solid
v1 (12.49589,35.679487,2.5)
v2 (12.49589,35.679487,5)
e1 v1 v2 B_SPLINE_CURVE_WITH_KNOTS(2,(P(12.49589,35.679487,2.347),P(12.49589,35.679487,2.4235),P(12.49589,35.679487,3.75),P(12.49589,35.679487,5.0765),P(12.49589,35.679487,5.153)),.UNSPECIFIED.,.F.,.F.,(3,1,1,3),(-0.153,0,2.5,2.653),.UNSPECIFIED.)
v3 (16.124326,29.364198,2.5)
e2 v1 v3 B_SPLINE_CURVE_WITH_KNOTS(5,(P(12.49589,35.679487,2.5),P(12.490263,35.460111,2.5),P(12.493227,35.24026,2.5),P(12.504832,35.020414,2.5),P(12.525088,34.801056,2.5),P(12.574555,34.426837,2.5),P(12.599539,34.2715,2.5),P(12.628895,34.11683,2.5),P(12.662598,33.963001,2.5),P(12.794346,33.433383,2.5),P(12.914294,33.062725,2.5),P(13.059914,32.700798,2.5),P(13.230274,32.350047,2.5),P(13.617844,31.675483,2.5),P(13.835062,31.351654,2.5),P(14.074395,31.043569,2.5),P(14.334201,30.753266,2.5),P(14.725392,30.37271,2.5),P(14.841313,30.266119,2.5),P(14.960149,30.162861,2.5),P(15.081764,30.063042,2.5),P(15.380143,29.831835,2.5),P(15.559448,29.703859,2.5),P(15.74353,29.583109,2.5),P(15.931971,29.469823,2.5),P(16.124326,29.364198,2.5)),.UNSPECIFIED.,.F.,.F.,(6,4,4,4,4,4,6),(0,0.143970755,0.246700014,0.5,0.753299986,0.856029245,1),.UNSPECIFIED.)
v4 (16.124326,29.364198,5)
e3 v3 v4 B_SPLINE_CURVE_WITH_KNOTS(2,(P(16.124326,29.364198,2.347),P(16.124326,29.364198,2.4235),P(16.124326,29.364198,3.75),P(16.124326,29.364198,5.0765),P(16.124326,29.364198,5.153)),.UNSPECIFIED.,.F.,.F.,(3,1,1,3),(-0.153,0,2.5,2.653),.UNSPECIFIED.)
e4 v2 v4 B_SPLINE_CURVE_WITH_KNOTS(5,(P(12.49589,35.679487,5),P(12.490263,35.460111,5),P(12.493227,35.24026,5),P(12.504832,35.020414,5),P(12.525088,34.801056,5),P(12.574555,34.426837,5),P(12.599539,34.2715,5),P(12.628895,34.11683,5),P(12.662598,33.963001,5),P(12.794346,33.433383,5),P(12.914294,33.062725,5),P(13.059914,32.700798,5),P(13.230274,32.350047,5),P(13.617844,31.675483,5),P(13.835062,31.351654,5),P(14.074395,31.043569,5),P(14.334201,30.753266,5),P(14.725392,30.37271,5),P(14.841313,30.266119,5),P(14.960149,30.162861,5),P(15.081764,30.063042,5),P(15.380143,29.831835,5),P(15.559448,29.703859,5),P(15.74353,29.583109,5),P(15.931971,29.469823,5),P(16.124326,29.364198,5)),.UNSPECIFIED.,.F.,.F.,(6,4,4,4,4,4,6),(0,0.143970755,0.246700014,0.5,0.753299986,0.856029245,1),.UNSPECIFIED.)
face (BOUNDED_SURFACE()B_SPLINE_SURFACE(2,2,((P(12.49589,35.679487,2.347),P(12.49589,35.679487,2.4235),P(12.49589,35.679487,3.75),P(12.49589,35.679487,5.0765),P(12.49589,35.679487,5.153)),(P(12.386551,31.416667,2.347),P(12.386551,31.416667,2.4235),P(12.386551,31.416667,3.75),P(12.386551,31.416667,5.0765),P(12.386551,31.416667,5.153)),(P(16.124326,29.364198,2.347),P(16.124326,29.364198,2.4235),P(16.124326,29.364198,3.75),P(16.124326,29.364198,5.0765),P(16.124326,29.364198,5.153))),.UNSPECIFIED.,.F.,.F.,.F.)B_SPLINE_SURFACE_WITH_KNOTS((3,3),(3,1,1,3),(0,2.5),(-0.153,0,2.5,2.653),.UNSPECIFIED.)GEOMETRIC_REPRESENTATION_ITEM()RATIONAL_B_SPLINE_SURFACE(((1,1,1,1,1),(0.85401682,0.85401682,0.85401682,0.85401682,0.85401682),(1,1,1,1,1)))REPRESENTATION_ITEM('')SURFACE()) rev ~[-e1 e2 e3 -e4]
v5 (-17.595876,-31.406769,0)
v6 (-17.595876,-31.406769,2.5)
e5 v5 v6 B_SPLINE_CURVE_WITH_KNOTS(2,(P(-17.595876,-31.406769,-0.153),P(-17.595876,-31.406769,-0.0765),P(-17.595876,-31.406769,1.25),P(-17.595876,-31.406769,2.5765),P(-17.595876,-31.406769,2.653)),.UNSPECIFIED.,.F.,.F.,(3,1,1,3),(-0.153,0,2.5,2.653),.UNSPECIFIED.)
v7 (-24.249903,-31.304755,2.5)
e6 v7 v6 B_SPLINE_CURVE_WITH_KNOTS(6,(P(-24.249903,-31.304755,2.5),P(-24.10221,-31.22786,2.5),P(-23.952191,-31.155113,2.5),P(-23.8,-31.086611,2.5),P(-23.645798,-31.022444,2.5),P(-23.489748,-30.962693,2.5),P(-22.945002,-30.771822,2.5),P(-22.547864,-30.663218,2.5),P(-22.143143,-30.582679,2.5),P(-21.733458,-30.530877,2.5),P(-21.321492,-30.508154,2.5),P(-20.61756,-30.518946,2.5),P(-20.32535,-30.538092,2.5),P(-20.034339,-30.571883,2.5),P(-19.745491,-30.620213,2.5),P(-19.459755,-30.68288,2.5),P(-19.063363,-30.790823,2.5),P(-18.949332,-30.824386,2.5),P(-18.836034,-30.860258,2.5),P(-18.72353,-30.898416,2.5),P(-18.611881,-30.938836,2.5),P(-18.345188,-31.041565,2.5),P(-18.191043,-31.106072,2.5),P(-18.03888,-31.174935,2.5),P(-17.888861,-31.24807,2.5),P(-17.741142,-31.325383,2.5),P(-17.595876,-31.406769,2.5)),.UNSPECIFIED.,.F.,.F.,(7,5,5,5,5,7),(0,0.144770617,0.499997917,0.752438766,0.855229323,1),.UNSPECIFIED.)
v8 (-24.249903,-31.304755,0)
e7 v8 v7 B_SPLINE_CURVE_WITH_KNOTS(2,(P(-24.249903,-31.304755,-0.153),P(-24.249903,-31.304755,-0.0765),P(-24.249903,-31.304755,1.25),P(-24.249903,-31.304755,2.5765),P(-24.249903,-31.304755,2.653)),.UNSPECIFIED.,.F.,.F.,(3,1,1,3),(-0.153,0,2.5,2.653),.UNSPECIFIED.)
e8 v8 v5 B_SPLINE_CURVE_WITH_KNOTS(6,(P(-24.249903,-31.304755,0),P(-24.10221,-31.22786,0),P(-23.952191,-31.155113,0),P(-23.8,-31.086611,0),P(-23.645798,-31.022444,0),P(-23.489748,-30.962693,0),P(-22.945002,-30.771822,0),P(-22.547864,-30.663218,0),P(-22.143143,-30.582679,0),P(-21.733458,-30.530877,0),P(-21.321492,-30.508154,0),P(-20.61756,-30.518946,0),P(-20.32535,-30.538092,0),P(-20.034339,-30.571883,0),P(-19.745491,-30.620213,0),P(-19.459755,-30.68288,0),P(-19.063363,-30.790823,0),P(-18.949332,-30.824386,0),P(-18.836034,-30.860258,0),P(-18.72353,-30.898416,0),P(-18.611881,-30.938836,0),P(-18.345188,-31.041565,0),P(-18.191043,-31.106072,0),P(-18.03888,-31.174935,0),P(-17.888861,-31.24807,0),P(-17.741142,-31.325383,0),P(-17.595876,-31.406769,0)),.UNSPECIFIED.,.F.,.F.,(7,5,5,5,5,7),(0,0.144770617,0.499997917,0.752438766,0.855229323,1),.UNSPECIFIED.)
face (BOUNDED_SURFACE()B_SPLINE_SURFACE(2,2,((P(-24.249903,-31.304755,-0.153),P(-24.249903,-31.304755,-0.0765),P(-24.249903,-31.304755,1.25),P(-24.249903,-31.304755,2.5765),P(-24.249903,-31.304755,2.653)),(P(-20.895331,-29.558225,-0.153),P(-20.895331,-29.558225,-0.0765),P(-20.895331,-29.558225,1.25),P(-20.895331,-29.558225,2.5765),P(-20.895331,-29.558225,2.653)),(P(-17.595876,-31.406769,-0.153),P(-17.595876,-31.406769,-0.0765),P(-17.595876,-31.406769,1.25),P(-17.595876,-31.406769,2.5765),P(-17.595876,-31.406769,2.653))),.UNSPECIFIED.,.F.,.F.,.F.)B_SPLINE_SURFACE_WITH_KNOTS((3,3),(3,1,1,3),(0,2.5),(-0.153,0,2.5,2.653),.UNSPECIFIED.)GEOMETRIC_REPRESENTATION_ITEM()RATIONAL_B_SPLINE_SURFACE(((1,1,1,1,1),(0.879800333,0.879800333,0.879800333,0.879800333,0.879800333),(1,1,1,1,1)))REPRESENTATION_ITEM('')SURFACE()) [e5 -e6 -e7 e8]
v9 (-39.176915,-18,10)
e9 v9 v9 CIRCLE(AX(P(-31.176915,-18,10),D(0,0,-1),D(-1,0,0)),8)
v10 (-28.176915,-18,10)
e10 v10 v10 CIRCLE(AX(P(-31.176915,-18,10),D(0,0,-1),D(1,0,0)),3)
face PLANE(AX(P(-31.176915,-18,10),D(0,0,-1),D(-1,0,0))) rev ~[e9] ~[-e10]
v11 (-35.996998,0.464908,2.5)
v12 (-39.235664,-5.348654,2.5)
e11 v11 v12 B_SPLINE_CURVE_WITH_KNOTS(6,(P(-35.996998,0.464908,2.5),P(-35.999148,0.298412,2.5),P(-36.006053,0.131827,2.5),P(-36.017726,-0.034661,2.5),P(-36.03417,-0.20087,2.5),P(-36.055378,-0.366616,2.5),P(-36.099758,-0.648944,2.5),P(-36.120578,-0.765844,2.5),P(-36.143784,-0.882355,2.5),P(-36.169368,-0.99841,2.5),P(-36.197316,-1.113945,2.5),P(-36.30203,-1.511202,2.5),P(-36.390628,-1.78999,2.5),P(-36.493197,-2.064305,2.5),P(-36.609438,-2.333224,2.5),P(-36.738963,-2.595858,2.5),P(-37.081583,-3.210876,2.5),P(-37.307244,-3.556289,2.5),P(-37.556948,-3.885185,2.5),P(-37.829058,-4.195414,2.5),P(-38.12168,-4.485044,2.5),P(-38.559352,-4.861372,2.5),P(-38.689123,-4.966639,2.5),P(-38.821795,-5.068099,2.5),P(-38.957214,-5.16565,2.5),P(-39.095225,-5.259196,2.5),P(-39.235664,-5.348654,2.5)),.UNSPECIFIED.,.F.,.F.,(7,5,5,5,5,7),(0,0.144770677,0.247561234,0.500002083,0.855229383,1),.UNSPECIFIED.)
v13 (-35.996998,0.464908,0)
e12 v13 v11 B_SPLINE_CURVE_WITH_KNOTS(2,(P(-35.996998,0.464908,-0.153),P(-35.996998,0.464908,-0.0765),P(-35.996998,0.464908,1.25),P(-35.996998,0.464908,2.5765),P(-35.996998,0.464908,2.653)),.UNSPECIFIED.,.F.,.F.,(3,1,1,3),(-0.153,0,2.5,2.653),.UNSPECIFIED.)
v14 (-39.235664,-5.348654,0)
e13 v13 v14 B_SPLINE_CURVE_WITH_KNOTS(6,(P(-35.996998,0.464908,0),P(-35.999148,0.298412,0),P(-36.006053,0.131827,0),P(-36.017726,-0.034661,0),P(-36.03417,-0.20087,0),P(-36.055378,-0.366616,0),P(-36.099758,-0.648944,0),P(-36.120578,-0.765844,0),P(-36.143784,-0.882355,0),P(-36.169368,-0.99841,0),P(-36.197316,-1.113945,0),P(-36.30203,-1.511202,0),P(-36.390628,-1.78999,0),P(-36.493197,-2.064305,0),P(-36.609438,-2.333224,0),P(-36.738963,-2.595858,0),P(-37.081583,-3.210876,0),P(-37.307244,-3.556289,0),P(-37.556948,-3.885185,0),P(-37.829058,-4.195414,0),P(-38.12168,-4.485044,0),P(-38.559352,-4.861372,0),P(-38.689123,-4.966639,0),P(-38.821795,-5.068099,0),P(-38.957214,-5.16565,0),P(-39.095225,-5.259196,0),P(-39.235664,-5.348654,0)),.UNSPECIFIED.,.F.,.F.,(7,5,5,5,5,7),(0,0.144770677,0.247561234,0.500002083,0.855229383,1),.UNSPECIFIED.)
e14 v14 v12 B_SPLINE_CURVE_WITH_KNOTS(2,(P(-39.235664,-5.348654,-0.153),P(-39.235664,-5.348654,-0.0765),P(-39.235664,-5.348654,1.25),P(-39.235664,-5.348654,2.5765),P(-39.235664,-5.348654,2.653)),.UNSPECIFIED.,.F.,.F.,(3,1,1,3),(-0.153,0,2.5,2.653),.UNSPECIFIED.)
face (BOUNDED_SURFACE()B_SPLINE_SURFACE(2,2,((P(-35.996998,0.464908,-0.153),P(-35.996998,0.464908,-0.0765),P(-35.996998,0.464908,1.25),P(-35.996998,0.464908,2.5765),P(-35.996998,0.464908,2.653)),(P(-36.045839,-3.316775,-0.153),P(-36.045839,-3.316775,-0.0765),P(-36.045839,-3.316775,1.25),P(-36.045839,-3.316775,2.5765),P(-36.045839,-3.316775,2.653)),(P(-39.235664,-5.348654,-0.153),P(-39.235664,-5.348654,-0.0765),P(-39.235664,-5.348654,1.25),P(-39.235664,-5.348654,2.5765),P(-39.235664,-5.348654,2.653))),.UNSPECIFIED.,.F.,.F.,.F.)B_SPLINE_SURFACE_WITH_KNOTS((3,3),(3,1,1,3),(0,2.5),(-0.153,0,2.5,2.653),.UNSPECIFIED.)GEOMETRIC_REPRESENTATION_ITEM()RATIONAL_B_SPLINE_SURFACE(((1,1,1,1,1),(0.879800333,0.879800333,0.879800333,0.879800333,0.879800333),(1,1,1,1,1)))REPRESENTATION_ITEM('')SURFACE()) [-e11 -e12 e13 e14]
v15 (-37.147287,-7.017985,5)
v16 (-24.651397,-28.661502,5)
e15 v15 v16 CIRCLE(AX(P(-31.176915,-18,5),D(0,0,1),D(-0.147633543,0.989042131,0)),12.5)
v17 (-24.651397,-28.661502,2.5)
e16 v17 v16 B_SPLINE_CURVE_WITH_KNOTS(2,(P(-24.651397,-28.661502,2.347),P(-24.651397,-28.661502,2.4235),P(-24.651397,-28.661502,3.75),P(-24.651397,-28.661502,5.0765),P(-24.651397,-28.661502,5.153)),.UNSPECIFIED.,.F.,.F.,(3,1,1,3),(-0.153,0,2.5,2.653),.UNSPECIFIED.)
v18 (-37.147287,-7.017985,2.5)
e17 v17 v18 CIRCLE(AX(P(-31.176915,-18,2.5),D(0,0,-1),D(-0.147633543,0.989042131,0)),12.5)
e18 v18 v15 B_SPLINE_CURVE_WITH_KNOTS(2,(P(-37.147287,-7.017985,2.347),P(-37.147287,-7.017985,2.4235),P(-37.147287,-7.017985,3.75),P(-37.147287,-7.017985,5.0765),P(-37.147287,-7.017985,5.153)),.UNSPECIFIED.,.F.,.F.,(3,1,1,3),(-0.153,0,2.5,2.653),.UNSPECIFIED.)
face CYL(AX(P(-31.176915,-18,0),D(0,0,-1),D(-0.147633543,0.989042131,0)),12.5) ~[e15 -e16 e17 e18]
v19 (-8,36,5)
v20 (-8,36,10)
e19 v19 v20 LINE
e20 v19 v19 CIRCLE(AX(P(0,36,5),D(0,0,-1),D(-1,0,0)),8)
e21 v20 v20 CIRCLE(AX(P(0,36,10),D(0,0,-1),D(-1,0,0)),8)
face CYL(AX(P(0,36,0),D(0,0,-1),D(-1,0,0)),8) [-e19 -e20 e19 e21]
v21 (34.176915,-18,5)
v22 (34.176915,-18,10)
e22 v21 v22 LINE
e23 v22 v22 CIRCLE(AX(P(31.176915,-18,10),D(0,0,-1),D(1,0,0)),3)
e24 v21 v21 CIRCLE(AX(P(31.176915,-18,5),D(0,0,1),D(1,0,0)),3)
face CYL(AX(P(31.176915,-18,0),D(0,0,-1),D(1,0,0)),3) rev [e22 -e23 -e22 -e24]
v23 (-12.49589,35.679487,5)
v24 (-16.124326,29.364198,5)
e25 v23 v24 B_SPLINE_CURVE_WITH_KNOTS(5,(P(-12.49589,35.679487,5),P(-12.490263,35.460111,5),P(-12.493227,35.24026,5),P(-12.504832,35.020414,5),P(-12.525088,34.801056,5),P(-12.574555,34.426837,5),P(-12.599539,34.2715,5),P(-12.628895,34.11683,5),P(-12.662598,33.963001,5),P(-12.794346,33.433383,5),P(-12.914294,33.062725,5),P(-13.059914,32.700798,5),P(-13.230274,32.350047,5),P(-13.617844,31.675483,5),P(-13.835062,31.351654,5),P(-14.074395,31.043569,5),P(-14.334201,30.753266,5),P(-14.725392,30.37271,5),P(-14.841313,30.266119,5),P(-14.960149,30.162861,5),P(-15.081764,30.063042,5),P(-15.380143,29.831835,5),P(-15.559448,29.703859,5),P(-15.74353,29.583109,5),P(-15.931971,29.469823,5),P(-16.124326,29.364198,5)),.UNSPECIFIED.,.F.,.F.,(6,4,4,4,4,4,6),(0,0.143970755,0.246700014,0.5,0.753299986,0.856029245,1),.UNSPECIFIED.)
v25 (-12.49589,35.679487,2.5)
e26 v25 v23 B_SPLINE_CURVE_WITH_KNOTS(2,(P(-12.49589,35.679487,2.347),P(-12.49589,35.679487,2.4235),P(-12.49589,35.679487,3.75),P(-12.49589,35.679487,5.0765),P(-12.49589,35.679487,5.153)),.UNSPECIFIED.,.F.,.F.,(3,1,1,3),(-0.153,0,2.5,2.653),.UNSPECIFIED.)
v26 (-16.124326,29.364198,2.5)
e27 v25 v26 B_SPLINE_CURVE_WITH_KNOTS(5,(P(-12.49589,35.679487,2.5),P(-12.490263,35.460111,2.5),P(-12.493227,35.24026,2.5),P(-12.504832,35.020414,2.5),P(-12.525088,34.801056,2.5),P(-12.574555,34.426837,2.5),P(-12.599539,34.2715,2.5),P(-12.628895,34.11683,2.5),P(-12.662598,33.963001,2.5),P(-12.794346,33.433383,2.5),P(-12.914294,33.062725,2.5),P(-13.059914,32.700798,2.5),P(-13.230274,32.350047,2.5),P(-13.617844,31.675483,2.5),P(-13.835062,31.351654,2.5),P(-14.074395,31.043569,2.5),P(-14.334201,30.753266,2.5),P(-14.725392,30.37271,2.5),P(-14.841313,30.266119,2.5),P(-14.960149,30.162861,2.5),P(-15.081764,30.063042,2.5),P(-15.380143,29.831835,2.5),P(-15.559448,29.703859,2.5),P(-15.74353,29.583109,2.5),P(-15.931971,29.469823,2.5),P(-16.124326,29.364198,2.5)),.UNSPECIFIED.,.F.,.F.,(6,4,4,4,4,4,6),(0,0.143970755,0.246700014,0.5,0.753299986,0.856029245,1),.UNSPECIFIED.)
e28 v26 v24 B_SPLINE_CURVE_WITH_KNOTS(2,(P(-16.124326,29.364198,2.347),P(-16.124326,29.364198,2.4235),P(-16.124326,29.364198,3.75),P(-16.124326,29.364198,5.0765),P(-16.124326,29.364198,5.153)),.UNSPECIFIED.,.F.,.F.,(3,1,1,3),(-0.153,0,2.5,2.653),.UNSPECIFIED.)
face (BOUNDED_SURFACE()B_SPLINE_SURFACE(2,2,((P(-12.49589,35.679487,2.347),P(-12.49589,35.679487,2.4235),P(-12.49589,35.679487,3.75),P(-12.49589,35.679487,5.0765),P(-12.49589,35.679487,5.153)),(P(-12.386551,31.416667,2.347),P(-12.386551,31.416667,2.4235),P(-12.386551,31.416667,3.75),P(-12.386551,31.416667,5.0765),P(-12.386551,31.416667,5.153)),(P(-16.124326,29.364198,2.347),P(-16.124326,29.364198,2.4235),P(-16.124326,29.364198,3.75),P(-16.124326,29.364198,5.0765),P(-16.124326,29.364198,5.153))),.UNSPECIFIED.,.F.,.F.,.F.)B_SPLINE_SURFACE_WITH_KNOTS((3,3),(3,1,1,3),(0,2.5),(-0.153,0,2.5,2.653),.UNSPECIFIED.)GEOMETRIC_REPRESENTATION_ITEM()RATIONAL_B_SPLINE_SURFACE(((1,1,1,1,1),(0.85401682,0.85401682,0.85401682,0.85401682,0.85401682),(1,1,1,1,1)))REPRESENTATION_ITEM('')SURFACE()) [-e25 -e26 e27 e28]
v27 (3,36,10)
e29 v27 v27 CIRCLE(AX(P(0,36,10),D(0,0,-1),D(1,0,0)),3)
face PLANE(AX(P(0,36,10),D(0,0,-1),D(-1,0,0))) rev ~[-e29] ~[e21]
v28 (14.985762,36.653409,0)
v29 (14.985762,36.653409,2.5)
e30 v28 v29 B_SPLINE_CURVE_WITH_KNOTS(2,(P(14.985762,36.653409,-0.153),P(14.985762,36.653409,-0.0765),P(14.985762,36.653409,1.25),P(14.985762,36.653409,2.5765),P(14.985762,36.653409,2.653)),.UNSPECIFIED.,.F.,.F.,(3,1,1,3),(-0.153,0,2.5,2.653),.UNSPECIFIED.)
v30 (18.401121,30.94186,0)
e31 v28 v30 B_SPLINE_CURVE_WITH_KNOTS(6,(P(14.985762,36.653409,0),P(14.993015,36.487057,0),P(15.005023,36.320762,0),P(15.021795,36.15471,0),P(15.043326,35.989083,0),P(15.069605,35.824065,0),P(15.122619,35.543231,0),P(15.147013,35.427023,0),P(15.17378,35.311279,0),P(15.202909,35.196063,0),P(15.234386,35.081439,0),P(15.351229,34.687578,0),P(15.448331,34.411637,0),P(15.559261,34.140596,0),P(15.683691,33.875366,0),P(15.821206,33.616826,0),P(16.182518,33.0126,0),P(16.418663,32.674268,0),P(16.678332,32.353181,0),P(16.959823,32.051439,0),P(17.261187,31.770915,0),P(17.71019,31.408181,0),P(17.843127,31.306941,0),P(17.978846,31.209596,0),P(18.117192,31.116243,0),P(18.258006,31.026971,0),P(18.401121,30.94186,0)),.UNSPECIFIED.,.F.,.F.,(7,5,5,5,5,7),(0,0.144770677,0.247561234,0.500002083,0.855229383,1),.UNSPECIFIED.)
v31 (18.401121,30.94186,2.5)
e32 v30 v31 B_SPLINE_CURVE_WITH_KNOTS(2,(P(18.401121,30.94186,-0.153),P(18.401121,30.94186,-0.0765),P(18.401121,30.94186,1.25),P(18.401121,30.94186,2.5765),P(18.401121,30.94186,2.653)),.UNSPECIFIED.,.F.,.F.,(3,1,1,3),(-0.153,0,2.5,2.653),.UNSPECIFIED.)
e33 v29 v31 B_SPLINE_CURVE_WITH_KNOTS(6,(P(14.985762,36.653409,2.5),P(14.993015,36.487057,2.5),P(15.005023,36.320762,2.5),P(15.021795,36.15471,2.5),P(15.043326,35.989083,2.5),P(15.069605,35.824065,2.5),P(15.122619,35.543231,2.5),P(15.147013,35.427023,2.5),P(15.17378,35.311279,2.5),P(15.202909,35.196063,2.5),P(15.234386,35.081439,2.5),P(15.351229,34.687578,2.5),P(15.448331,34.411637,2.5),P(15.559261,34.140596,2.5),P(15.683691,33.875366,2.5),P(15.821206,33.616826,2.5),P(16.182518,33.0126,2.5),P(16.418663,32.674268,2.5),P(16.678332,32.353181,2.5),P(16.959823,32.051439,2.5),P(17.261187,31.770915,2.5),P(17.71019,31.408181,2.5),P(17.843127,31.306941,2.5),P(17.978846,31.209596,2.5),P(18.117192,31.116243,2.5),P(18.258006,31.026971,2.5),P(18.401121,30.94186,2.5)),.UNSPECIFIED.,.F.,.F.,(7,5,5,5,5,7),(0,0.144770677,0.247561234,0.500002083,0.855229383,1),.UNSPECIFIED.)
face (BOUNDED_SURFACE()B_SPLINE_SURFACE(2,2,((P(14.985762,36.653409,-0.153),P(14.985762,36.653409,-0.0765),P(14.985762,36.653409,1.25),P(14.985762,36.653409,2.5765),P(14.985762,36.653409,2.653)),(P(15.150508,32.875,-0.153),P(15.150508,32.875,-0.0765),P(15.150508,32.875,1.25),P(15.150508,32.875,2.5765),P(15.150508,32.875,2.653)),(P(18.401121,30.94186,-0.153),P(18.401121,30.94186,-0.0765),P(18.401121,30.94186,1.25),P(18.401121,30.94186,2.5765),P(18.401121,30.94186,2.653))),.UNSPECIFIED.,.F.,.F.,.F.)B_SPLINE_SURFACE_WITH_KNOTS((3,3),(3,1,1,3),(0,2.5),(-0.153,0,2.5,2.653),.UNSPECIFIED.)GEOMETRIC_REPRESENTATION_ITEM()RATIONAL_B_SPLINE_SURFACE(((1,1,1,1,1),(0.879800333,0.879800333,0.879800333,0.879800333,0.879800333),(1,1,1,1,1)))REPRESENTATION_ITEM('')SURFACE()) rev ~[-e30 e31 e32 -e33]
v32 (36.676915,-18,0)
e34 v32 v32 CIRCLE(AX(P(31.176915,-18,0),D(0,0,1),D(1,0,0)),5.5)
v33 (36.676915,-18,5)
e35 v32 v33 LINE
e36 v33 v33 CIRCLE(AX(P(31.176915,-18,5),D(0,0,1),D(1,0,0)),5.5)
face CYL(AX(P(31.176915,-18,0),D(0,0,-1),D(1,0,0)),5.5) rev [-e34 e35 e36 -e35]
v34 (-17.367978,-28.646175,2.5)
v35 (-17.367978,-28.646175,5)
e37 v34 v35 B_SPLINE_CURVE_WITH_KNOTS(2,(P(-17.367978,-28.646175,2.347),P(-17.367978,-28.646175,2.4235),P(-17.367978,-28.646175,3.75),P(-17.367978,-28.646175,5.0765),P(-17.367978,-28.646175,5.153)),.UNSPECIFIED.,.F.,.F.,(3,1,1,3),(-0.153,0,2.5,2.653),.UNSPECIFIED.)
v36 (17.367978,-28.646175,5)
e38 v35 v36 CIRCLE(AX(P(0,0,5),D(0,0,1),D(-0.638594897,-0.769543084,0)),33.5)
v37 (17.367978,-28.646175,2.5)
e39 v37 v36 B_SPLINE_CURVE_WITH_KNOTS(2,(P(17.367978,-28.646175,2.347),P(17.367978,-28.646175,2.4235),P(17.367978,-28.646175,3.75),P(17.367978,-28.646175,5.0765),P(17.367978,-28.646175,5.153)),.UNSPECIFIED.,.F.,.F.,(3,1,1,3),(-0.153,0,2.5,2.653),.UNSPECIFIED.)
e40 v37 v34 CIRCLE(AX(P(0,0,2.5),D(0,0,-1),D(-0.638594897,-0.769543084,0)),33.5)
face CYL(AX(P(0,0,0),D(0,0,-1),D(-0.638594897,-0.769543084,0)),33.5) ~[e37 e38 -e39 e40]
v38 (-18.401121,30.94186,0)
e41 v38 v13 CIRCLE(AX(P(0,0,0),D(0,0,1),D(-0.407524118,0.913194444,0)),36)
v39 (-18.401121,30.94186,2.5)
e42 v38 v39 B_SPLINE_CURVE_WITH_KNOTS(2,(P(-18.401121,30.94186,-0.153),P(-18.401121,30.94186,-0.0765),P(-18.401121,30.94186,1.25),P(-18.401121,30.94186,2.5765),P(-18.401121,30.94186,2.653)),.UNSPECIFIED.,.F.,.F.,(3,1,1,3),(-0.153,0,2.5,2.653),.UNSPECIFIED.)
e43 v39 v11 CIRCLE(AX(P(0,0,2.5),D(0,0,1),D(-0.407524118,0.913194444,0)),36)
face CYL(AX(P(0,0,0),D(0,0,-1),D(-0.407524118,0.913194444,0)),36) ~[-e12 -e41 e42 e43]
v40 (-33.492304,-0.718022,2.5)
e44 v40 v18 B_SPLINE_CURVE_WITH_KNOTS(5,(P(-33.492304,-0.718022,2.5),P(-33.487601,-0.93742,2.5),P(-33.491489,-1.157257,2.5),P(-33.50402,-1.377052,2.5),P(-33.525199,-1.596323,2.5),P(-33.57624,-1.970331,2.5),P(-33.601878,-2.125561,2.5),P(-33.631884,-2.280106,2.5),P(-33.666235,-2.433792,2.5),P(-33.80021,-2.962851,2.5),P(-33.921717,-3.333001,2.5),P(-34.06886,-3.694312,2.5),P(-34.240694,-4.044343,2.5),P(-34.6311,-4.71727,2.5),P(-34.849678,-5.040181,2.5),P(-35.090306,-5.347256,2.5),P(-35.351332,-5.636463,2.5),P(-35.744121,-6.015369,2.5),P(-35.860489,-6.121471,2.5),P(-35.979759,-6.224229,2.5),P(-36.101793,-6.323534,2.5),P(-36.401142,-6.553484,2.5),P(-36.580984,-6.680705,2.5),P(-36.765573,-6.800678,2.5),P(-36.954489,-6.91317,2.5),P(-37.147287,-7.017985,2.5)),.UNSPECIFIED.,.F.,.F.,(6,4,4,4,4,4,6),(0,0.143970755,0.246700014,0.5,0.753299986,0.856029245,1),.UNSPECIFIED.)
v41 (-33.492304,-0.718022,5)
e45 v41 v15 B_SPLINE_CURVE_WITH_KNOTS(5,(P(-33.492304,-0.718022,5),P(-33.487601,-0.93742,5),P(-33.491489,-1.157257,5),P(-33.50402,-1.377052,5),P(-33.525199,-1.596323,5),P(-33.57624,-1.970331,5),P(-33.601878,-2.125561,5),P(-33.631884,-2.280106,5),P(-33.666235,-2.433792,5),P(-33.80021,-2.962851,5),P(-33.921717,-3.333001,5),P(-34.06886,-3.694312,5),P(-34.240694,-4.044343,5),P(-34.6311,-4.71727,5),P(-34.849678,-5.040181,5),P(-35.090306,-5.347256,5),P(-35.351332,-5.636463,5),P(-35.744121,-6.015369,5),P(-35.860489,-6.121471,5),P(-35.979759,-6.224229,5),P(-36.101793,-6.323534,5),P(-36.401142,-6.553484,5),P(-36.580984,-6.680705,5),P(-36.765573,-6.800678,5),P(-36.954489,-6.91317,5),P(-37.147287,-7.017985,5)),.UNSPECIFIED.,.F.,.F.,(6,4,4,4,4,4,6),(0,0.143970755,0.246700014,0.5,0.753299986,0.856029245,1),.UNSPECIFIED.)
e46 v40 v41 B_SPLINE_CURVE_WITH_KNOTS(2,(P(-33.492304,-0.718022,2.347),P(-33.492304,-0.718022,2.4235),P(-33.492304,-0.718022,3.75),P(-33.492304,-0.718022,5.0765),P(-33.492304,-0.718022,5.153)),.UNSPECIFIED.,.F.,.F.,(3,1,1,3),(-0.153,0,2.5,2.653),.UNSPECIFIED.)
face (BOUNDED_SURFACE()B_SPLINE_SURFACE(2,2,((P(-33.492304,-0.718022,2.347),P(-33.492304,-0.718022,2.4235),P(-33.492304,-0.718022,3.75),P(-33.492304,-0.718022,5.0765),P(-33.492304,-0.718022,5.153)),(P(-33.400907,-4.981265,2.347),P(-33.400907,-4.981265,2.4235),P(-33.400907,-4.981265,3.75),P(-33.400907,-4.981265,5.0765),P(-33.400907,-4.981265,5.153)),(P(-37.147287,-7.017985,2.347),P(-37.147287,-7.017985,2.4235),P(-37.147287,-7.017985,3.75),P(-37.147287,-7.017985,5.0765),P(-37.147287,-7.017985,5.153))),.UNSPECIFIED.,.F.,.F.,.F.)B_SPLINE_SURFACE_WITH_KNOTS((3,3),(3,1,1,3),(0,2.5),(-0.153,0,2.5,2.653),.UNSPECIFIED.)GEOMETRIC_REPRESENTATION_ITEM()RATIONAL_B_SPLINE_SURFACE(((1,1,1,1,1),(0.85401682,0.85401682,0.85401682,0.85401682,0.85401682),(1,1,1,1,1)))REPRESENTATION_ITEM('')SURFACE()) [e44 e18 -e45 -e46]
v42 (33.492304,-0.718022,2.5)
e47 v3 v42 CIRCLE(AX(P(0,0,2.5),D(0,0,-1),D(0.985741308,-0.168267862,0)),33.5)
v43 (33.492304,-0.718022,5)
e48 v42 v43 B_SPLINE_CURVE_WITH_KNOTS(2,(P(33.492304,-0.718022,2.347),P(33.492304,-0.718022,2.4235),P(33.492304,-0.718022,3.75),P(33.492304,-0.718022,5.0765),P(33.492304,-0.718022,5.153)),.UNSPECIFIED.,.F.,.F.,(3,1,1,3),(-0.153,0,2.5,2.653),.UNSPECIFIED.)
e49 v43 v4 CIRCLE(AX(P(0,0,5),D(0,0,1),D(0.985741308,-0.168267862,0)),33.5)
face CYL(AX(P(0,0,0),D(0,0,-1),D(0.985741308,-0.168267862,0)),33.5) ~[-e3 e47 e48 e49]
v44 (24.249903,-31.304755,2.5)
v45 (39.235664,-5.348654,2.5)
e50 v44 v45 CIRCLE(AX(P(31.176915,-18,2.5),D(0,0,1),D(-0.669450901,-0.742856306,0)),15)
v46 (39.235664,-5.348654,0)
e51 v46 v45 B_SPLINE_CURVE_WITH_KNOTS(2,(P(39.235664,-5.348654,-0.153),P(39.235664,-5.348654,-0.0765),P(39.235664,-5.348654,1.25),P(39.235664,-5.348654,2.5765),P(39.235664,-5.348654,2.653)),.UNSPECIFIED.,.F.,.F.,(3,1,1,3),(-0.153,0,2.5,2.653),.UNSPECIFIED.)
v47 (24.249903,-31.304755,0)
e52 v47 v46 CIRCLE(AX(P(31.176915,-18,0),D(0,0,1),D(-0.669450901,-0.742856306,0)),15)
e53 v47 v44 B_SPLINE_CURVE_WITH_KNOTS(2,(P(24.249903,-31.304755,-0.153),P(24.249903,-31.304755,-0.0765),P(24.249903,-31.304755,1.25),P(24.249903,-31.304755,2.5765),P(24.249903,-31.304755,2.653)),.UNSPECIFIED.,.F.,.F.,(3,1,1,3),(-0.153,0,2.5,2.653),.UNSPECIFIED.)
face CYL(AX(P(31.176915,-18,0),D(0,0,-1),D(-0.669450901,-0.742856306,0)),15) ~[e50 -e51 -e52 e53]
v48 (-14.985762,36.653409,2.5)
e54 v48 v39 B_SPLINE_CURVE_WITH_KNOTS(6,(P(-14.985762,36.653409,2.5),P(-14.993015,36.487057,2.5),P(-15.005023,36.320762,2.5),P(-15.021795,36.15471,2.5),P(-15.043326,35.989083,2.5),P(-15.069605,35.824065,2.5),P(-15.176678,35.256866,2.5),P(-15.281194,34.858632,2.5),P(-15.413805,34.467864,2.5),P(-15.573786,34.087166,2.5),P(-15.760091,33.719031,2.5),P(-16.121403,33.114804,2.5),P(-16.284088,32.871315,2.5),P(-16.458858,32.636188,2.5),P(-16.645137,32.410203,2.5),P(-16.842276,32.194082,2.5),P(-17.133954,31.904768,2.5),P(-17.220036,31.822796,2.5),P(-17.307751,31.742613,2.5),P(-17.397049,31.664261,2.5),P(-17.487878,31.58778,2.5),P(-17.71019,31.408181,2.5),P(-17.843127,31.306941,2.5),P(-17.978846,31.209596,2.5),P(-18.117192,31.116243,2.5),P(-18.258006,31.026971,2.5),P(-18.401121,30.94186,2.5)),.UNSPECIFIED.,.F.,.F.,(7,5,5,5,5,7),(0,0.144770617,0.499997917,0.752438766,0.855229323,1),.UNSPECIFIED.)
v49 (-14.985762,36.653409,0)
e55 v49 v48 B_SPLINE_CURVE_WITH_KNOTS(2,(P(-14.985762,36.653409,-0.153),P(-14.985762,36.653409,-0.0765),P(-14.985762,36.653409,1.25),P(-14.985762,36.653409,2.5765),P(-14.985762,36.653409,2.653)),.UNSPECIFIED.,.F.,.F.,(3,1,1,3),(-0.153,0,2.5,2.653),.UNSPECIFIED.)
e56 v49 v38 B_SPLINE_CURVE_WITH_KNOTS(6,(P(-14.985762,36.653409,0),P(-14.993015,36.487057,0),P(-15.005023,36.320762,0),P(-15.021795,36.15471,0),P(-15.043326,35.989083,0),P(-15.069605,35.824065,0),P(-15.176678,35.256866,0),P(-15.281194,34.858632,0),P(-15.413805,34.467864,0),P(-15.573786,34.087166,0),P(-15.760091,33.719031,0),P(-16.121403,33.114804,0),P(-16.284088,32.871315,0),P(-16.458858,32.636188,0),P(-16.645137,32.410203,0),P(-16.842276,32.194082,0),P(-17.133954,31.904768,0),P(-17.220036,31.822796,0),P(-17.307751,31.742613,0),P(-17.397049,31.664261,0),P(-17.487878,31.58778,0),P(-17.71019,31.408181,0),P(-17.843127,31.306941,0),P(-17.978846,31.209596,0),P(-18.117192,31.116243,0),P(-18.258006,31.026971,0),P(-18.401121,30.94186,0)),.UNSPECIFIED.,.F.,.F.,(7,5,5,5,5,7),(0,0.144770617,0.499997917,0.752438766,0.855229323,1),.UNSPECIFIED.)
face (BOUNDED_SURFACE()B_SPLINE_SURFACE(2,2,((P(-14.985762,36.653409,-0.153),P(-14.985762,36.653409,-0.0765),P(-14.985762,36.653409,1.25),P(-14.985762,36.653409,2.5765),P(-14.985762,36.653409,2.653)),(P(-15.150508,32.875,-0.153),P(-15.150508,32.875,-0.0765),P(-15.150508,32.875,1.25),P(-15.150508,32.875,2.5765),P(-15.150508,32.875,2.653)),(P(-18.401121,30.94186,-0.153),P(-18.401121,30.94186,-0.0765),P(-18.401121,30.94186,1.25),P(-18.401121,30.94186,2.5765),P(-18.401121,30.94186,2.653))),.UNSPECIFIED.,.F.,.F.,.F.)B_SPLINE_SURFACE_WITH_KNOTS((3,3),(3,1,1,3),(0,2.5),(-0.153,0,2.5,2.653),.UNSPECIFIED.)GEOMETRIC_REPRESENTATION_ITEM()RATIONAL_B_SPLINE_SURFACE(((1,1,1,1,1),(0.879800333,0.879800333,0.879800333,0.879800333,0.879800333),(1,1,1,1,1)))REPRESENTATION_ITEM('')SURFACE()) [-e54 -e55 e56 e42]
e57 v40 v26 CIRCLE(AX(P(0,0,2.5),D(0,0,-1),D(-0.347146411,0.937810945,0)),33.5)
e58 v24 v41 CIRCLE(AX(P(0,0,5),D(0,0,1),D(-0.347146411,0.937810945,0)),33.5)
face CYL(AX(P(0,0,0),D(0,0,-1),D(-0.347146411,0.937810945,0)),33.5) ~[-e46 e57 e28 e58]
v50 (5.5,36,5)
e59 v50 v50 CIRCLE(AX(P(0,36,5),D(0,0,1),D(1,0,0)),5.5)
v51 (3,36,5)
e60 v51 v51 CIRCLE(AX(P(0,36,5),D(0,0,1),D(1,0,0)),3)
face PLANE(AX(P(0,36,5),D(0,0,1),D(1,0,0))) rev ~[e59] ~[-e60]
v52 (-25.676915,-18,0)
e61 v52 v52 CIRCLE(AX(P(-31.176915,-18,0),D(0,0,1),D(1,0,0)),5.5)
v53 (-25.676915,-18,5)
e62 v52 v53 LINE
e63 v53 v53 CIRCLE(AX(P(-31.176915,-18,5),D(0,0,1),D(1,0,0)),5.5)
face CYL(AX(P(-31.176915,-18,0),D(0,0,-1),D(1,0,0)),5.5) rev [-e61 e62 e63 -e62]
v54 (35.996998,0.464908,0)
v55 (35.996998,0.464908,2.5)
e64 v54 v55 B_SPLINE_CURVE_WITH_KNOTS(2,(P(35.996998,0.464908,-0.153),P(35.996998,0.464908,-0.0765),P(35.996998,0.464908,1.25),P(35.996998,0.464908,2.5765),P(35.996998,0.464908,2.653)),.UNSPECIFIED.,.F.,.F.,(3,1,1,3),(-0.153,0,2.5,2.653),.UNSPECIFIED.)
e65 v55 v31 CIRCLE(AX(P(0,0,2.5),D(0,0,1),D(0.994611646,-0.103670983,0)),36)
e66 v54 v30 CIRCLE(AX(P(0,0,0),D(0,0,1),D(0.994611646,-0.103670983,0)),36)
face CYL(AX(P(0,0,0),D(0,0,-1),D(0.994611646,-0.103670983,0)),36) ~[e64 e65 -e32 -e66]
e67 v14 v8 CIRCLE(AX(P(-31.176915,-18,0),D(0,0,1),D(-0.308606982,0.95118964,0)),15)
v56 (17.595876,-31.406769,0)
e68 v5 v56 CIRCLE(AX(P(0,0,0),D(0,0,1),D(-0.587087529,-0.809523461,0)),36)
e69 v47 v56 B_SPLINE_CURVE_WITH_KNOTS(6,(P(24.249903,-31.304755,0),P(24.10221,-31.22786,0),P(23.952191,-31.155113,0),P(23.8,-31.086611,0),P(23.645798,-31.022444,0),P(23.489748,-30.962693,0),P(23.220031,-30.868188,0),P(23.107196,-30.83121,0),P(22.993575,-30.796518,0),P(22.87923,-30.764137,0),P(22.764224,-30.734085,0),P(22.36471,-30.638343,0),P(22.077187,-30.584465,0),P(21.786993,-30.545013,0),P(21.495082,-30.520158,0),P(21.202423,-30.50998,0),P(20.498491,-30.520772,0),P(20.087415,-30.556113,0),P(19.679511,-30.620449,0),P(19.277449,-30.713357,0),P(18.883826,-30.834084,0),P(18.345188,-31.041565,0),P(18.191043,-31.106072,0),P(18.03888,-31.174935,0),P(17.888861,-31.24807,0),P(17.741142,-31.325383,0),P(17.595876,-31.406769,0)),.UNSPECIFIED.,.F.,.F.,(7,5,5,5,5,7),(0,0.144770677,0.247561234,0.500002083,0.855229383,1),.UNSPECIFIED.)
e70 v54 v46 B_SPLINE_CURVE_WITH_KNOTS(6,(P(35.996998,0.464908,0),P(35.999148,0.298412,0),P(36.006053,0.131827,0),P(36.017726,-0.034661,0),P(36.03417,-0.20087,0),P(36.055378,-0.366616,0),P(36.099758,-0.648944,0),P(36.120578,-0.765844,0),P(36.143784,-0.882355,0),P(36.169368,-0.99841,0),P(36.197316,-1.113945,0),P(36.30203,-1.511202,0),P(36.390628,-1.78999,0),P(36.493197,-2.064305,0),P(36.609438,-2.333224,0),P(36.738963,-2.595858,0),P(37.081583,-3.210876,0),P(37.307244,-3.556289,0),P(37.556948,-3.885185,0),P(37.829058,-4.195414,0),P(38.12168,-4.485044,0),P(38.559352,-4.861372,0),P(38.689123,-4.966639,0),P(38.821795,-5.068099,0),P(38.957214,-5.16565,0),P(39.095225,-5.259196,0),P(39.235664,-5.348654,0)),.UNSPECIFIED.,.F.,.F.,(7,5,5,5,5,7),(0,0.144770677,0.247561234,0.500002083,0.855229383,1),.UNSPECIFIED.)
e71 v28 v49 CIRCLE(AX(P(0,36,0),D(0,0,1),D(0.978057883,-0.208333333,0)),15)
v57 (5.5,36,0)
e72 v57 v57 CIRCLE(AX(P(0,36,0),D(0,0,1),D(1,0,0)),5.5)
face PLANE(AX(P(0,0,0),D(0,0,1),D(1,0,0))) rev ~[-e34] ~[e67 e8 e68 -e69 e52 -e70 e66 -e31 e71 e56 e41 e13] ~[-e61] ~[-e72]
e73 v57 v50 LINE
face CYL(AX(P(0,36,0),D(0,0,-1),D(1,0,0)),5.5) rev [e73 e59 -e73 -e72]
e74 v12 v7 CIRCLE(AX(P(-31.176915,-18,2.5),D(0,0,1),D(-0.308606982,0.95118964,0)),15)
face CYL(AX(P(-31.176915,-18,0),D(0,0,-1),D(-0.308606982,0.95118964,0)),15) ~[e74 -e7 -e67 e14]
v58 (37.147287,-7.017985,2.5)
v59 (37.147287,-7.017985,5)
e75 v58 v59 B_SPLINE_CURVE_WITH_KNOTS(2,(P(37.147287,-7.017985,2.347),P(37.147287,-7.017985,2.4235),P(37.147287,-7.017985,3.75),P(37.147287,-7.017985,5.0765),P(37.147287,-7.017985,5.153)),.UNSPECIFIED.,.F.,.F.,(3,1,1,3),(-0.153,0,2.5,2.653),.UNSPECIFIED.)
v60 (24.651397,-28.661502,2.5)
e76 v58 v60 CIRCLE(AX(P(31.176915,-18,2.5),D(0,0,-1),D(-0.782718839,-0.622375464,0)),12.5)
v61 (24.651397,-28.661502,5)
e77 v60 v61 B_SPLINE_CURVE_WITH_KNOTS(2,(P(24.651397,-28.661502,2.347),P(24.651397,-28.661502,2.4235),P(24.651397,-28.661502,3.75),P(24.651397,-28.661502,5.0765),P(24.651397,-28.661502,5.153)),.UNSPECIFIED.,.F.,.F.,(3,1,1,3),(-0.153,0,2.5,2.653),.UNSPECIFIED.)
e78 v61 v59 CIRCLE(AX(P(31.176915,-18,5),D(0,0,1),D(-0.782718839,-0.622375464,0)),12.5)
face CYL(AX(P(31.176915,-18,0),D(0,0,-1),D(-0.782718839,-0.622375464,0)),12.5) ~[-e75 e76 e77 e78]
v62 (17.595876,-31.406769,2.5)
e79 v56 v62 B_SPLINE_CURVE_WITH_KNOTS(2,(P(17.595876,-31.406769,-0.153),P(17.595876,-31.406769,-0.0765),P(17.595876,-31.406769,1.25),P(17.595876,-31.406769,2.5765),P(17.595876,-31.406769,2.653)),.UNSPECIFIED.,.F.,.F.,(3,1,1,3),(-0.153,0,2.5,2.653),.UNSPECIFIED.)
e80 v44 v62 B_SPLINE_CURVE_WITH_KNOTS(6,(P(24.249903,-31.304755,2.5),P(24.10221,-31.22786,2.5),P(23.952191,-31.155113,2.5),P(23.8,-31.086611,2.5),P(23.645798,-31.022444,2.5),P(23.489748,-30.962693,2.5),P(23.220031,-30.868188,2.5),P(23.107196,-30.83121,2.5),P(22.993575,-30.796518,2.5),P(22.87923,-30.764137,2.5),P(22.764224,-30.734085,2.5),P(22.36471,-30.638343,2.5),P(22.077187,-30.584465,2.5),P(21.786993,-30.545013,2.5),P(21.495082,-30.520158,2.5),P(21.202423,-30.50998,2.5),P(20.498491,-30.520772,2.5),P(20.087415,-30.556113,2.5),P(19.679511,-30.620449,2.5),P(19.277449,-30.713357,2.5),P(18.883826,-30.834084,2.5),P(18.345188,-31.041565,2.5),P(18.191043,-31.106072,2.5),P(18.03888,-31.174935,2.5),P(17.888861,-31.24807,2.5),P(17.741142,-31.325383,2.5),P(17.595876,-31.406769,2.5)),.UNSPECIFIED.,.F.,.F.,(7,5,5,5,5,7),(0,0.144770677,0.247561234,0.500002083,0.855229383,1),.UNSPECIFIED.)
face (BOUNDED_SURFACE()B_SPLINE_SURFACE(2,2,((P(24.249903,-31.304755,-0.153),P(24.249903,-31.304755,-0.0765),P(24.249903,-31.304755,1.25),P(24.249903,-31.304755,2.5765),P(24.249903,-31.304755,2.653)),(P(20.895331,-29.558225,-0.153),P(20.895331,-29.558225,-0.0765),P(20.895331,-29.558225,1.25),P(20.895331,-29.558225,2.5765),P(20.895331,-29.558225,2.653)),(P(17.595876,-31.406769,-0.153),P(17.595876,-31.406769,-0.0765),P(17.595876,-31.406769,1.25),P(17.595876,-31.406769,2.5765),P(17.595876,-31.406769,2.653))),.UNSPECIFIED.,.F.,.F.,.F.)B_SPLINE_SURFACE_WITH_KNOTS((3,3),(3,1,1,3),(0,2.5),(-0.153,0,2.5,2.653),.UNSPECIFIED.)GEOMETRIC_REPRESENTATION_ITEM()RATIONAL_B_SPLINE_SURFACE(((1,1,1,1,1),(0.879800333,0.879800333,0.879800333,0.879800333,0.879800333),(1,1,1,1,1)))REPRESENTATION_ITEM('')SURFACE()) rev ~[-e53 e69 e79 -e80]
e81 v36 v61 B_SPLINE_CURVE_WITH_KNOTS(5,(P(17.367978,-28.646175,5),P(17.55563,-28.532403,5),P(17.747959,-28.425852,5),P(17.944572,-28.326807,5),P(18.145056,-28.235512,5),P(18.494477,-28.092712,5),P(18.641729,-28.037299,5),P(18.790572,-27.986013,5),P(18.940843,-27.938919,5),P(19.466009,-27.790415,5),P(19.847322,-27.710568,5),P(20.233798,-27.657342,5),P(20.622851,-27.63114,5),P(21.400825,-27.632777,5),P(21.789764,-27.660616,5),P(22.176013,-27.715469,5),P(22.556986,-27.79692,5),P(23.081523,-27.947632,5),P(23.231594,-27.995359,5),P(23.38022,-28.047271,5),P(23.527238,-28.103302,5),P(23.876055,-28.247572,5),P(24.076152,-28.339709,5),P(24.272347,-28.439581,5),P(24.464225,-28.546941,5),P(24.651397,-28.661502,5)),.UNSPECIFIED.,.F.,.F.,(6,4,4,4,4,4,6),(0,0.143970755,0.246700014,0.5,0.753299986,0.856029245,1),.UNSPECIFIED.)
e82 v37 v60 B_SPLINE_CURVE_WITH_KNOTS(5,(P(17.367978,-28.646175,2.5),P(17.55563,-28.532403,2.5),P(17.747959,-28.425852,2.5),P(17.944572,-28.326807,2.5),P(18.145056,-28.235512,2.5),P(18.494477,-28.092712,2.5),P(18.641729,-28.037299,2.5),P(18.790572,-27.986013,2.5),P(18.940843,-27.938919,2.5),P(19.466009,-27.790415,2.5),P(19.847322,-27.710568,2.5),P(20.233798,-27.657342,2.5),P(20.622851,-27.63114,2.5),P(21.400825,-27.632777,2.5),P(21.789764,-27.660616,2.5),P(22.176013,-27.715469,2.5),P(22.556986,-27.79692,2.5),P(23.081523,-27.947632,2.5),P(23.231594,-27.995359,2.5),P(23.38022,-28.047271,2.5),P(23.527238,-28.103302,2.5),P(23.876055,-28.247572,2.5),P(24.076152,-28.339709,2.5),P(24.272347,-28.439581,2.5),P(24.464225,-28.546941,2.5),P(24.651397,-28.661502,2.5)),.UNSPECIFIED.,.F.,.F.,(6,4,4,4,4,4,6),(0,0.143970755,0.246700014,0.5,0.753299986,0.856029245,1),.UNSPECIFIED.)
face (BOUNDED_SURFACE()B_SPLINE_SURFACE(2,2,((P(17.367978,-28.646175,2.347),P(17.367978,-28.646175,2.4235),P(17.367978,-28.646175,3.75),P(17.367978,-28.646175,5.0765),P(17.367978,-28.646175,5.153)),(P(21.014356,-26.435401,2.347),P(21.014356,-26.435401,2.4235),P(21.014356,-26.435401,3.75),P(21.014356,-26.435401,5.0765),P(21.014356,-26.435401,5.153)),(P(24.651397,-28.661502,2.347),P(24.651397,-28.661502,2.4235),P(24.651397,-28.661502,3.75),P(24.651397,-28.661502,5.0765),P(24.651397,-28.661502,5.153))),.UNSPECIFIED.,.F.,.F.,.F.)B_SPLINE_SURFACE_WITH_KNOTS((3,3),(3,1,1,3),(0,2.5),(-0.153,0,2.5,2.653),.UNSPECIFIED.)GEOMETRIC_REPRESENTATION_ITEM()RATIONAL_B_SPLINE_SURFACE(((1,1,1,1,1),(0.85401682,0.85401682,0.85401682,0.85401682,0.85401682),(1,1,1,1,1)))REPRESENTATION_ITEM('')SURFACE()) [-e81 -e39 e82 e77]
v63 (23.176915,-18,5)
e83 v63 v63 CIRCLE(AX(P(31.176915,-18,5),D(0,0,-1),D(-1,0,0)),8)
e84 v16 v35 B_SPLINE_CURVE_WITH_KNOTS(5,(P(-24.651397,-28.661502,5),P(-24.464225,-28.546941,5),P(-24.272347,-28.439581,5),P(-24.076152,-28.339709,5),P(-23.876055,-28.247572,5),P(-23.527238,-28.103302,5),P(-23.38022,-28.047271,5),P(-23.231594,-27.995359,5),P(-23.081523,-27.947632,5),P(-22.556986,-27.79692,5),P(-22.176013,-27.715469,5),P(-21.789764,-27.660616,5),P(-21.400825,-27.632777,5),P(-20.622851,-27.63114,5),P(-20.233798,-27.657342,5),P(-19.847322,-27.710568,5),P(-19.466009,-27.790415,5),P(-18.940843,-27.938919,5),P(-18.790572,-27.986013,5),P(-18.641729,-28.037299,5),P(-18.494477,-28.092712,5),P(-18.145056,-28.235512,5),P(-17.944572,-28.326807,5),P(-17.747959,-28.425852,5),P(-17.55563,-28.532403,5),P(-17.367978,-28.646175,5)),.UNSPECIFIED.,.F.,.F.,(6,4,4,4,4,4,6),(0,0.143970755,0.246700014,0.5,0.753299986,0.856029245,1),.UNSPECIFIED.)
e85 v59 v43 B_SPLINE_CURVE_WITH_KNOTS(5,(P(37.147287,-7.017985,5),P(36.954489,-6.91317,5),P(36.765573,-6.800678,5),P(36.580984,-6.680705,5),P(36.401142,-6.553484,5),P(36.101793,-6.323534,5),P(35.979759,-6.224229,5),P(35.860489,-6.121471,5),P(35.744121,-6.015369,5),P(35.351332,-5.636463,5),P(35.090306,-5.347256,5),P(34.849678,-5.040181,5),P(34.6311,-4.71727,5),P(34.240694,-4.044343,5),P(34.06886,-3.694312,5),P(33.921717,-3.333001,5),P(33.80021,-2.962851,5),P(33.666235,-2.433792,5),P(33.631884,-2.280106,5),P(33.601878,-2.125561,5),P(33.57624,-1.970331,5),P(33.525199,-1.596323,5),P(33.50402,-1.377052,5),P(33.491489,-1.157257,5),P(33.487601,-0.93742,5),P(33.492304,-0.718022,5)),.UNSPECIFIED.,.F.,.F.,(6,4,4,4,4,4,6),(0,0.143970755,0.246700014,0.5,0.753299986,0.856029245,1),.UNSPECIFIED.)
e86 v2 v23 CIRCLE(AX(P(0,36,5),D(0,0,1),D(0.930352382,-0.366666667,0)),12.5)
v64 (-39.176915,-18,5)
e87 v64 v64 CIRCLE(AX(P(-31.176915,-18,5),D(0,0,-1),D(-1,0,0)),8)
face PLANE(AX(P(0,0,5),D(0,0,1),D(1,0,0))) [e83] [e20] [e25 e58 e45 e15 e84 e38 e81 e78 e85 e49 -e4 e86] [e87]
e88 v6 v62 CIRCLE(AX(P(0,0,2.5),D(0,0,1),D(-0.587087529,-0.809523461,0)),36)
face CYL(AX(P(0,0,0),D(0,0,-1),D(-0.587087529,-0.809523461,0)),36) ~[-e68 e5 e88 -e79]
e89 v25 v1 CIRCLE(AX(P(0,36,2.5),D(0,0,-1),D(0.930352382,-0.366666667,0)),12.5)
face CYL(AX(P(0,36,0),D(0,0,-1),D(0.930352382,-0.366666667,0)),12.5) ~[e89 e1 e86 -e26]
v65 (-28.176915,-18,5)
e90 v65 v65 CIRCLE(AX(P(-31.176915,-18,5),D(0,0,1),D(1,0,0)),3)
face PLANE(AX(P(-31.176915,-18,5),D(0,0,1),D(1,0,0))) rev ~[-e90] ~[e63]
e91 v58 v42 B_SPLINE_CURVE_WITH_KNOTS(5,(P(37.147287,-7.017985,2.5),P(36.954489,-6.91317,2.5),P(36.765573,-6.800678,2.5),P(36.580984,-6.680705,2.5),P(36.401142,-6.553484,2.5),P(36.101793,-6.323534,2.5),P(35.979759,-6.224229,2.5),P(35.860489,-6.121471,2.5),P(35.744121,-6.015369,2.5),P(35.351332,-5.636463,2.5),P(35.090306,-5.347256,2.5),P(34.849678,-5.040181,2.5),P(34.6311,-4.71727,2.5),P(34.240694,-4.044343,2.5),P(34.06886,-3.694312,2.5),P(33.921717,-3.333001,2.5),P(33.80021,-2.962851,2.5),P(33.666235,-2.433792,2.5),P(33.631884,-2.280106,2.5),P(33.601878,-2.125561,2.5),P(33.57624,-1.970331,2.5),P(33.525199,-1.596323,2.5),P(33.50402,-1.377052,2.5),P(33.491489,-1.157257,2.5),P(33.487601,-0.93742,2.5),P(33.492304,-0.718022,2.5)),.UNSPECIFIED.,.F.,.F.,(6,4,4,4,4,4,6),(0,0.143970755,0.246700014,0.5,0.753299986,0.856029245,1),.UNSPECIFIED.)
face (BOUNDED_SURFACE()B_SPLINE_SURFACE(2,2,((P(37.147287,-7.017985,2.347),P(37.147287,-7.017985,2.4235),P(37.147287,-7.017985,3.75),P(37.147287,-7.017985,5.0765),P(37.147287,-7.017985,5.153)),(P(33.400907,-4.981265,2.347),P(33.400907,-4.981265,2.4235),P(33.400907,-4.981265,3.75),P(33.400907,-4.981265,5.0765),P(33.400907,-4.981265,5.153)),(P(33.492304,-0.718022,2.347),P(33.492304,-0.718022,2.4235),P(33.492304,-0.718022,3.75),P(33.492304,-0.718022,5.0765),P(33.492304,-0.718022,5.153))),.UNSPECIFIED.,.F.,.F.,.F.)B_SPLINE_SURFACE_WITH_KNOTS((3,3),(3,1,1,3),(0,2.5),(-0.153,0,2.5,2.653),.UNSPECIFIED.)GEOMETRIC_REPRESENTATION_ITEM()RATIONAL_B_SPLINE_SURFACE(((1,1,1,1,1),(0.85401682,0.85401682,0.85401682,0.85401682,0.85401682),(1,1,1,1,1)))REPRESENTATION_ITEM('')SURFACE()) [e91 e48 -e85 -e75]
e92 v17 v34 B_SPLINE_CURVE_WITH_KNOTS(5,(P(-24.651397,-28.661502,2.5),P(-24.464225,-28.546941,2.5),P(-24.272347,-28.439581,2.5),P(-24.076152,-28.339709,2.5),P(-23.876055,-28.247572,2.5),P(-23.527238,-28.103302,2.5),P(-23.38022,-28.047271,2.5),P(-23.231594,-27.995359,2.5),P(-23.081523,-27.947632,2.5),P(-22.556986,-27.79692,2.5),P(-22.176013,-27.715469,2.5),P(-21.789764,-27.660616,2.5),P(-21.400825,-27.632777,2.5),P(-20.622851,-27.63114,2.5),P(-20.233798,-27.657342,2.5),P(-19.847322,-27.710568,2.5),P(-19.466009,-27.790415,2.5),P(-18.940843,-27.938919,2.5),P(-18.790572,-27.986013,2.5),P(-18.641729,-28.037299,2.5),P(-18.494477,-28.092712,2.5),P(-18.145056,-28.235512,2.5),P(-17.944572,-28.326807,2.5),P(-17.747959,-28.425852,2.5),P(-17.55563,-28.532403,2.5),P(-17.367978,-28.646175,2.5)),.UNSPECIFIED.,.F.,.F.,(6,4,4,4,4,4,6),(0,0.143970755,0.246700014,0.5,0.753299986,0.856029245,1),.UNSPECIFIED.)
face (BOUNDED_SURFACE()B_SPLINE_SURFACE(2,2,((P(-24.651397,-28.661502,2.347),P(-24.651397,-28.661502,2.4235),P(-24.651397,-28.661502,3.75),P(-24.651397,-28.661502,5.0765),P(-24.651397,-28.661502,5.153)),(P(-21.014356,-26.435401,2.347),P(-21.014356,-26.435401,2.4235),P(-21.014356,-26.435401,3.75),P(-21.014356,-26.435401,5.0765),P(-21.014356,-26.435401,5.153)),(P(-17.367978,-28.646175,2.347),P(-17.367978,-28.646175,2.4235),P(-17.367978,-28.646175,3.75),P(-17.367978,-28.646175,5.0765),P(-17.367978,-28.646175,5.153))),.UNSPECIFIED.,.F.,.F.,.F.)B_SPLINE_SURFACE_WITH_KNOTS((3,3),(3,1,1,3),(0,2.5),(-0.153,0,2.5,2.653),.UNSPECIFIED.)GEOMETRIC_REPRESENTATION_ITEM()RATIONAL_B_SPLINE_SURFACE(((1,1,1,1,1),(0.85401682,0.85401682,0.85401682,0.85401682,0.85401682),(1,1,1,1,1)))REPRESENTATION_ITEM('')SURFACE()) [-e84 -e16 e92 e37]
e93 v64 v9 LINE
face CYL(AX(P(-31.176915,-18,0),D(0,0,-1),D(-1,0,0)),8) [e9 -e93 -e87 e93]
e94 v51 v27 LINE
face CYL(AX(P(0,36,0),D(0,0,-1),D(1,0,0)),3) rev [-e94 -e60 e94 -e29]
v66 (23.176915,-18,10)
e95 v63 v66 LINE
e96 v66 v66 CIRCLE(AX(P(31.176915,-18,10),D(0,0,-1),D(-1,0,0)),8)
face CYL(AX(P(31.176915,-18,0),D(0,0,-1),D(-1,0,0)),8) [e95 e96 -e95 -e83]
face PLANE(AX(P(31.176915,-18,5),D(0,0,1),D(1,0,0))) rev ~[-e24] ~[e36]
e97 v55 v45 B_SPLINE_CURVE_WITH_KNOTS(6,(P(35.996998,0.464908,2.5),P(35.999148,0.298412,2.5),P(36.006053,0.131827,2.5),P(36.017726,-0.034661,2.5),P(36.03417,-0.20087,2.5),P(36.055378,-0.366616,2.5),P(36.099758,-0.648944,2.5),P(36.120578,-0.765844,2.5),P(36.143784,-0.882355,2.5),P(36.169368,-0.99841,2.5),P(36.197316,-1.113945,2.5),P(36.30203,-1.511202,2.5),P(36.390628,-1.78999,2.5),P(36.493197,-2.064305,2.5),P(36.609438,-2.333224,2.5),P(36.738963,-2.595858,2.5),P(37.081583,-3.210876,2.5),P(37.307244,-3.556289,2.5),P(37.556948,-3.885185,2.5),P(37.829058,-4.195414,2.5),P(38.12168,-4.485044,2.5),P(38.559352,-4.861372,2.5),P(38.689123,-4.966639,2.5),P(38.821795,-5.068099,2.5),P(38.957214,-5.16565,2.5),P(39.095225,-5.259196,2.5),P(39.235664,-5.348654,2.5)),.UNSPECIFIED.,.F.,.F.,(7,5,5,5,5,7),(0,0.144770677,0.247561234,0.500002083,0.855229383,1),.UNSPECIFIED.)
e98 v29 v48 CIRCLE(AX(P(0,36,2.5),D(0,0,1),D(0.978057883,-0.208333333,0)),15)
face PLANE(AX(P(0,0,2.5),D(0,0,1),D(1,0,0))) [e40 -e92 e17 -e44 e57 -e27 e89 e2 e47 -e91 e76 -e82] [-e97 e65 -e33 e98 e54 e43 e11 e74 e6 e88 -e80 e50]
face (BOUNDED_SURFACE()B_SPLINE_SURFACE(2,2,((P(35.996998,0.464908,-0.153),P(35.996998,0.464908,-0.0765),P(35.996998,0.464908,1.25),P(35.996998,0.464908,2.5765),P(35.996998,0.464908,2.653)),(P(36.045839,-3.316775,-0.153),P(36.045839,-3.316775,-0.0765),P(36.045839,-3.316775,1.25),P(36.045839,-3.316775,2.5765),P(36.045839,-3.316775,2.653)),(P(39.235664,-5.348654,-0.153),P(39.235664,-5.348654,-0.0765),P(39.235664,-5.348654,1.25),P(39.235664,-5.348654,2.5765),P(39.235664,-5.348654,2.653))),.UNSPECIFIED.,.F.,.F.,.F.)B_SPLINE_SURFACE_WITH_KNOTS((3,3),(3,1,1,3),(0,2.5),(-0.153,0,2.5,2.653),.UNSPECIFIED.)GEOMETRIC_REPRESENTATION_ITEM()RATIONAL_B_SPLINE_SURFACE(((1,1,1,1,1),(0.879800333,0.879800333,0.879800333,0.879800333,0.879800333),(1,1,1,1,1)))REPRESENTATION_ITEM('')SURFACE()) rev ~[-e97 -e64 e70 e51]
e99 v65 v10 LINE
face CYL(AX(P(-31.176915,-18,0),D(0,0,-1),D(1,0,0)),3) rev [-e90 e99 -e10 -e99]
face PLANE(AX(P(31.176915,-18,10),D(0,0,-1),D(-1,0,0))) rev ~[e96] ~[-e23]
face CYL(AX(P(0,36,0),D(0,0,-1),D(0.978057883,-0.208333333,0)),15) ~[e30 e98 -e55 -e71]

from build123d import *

# Parameters (mm, degrees)
SKETCH1_R           = 5.5
BOSS_EXTRUDE3_DEPTH = 2.5
SKETCH1_7_R         = 5.5
BOSS_EXTRUDE4_DEPTH = 5
SKETCH2_R           = 8
BOSS_EXTRUDE5_DEPTH = 10
SKETCH1_9_R         = 3
CUT_EXTRUDE2_DEPTH  = 70.521992463
SKETCH1_13_R        = 5.5
SKETCH1_13_R_2      = 3
CUT_EXTRUDE3_DEPTH  = 5
FILLET1_R           = 7


with BuildPart() as part:
    # Sketch1 → Boss-Extrude3 (new body)
    with BuildSketch(Plane.XY):
        with BuildLine():
            ThreePointArc((-35.806019271, -3.732155406), (-44.167295593, -25.5), (-21.135151028, -29.142844594))
            ThreePointArc((-21.135151028, -29.142844594), (0, -36), (21.135151028, -29.142844594))
            ThreePointArc((21.135151028, -29.142844594), (44.167295593, -25.5), (35.806019271, -3.732155406))
            ThreePointArc((35.806019271, -3.732155406), (31.176914536, 18), (14.670868243, 32.875))
            ThreePointArc((14.670868243, 32.875), (0, 51), (-14.670868243, 32.875))
            ThreePointArc((-14.670868243, 32.875), (-31.176914536, 18), (-35.806019271, -3.732155406))
        make_face()
        with Locations((-31.176914536, -18)):
            Circle(SKETCH1_R, mode=Mode.SUBTRACT)
        with Locations((31.176914536, -18)):
            Circle(SKETCH1_R, mode=Mode.SUBTRACT)
        with Locations((0, 36)):
            Circle(SKETCH1_R, mode=Mode.SUBTRACT)
    extrude(amount=BOSS_EXTRUDE3_DEPTH)

    # Sketch1<7> → Boss-Extrude4 (add)
    with BuildSketch(Plane.XY):
        with BuildLine():
            ThreePointArc((11.629404781, 31.416666667), (0, 48.5), (-11.629404781, 31.416666667))
            ThreePointArc((-11.629404781, 31.416666667), (-29.011851027, 16.75), (-33.022333826, -5.636973362))
            ThreePointArc((-33.022333826, -5.636973362), (-42.002232084, -24.25), (-21.392929045, -25.779693304))
            ThreePointArc((-21.392929045, -25.779693304), (0, -33.5), (21.392929045, -25.779693304))
            ThreePointArc((21.392929045, -25.779693304), (42.002232084, -24.25), (33.022333826, -5.636973362))
            ThreePointArc((33.022333826, -5.636973362), (29.011851027, 16.75), (11.629404781, 31.416666667))
        make_face()
        with Locations((-31.176914536, -18)):
            Circle(SKETCH1_7_R, mode=Mode.SUBTRACT)
        with Locations((31.176914536, -18)):
            Circle(SKETCH1_7_R, mode=Mode.SUBTRACT)
        with Locations((0, 36)):
            Circle(SKETCH1_7_R, mode=Mode.SUBTRACT)
    extrude(amount=BOSS_EXTRUDE4_DEPTH)

    # Sketch2 → Boss-Extrude5 (add)
    with BuildSketch(Plane(origin=(0, 0, 0), x_dir=(-1, 0, 0), z_dir=(0, 0, -1))):
        with Locations((0, 36)):
            Circle(SKETCH2_R)
        with Locations((-31.176914536, -18)):
            Circle(SKETCH2_R)
        with Locations((31.176914536, -18)):
            Circle(SKETCH2_R)
    extrude(amount=-BOSS_EXTRUDE5_DEPTH)

    # Sketch1<9> → Cut-Extrude2 (cut, through all)
    with BuildSketch(Plane.XY):
        with Locations((-31.176914536, -18)):
            Circle(SKETCH1_9_R)
        with Locations((0, 36)):
            Circle(SKETCH1_9_R)
        with Locations((31.176914536, -18)):
            Circle(SKETCH1_9_R)
    extrude(amount=CUT_EXTRUDE2_DEPTH, mode=Mode.SUBTRACT)

    # Sketch1<13> → Cut-Extrude3 (cut)
    # profile 1 of 3: a face of its own
    with BuildSketch(Plane.XY):
        with Locations((0, 36)):
            Circle(SKETCH1_13_R)
        with Locations((0, 36)):
            Circle(SKETCH1_13_R_2, mode=Mode.SUBTRACT)
    # profile 2 of 3: a face of its own
    with BuildSketch(Plane.XY):
        with Locations((31.176914536, -18)):
            Circle(SKETCH1_13_R)
        with Locations((31.176914536, -18)):
            Circle(SKETCH1_13_R_2, mode=Mode.SUBTRACT)
    # profile 3 of 3: a face of its own
    with BuildSketch(Plane.XY):
        with Locations((-31.176914536, -18)):
            Circle(SKETCH1_13_R)
        with Locations((-31.176914536, -18)):
            Circle(SKETCH1_13_R_2, mode=Mode.SUBTRACT)
    extrude(amount=CUT_EXTRUDE3_DEPTH, mode=Mode.SUBTRACT)

    # Fillet1
    fillet1_edges = [part.edges().sort_by_distance(p)[0] for p in [
        (35.806019271, -3.732155406, 1.25),
        (21.135151028, -29.142844594, 1.25),
        (-21.135151028, -29.142844594, 1.25),
        (-35.806019271, -3.732155406, 1.25),
        (-14.670868243, 32.875, 1.25),
        (14.670868243, 32.875, 1.25),
        (33.022333826, -5.636973362, 3.75),
        (21.392929045, -25.779693304, 3.75),
        (-21.392929045, -25.779693304, 3.75),
        (-33.022333826, -5.636973362, 3.75),
        (-11.629404781, 31.416666667, 3.75),
        (11.629404781, 31.416666667, 3.75),
    ]]
    fillet(fillet1_edges, radius=FILLET1_R)


solid = part.part
